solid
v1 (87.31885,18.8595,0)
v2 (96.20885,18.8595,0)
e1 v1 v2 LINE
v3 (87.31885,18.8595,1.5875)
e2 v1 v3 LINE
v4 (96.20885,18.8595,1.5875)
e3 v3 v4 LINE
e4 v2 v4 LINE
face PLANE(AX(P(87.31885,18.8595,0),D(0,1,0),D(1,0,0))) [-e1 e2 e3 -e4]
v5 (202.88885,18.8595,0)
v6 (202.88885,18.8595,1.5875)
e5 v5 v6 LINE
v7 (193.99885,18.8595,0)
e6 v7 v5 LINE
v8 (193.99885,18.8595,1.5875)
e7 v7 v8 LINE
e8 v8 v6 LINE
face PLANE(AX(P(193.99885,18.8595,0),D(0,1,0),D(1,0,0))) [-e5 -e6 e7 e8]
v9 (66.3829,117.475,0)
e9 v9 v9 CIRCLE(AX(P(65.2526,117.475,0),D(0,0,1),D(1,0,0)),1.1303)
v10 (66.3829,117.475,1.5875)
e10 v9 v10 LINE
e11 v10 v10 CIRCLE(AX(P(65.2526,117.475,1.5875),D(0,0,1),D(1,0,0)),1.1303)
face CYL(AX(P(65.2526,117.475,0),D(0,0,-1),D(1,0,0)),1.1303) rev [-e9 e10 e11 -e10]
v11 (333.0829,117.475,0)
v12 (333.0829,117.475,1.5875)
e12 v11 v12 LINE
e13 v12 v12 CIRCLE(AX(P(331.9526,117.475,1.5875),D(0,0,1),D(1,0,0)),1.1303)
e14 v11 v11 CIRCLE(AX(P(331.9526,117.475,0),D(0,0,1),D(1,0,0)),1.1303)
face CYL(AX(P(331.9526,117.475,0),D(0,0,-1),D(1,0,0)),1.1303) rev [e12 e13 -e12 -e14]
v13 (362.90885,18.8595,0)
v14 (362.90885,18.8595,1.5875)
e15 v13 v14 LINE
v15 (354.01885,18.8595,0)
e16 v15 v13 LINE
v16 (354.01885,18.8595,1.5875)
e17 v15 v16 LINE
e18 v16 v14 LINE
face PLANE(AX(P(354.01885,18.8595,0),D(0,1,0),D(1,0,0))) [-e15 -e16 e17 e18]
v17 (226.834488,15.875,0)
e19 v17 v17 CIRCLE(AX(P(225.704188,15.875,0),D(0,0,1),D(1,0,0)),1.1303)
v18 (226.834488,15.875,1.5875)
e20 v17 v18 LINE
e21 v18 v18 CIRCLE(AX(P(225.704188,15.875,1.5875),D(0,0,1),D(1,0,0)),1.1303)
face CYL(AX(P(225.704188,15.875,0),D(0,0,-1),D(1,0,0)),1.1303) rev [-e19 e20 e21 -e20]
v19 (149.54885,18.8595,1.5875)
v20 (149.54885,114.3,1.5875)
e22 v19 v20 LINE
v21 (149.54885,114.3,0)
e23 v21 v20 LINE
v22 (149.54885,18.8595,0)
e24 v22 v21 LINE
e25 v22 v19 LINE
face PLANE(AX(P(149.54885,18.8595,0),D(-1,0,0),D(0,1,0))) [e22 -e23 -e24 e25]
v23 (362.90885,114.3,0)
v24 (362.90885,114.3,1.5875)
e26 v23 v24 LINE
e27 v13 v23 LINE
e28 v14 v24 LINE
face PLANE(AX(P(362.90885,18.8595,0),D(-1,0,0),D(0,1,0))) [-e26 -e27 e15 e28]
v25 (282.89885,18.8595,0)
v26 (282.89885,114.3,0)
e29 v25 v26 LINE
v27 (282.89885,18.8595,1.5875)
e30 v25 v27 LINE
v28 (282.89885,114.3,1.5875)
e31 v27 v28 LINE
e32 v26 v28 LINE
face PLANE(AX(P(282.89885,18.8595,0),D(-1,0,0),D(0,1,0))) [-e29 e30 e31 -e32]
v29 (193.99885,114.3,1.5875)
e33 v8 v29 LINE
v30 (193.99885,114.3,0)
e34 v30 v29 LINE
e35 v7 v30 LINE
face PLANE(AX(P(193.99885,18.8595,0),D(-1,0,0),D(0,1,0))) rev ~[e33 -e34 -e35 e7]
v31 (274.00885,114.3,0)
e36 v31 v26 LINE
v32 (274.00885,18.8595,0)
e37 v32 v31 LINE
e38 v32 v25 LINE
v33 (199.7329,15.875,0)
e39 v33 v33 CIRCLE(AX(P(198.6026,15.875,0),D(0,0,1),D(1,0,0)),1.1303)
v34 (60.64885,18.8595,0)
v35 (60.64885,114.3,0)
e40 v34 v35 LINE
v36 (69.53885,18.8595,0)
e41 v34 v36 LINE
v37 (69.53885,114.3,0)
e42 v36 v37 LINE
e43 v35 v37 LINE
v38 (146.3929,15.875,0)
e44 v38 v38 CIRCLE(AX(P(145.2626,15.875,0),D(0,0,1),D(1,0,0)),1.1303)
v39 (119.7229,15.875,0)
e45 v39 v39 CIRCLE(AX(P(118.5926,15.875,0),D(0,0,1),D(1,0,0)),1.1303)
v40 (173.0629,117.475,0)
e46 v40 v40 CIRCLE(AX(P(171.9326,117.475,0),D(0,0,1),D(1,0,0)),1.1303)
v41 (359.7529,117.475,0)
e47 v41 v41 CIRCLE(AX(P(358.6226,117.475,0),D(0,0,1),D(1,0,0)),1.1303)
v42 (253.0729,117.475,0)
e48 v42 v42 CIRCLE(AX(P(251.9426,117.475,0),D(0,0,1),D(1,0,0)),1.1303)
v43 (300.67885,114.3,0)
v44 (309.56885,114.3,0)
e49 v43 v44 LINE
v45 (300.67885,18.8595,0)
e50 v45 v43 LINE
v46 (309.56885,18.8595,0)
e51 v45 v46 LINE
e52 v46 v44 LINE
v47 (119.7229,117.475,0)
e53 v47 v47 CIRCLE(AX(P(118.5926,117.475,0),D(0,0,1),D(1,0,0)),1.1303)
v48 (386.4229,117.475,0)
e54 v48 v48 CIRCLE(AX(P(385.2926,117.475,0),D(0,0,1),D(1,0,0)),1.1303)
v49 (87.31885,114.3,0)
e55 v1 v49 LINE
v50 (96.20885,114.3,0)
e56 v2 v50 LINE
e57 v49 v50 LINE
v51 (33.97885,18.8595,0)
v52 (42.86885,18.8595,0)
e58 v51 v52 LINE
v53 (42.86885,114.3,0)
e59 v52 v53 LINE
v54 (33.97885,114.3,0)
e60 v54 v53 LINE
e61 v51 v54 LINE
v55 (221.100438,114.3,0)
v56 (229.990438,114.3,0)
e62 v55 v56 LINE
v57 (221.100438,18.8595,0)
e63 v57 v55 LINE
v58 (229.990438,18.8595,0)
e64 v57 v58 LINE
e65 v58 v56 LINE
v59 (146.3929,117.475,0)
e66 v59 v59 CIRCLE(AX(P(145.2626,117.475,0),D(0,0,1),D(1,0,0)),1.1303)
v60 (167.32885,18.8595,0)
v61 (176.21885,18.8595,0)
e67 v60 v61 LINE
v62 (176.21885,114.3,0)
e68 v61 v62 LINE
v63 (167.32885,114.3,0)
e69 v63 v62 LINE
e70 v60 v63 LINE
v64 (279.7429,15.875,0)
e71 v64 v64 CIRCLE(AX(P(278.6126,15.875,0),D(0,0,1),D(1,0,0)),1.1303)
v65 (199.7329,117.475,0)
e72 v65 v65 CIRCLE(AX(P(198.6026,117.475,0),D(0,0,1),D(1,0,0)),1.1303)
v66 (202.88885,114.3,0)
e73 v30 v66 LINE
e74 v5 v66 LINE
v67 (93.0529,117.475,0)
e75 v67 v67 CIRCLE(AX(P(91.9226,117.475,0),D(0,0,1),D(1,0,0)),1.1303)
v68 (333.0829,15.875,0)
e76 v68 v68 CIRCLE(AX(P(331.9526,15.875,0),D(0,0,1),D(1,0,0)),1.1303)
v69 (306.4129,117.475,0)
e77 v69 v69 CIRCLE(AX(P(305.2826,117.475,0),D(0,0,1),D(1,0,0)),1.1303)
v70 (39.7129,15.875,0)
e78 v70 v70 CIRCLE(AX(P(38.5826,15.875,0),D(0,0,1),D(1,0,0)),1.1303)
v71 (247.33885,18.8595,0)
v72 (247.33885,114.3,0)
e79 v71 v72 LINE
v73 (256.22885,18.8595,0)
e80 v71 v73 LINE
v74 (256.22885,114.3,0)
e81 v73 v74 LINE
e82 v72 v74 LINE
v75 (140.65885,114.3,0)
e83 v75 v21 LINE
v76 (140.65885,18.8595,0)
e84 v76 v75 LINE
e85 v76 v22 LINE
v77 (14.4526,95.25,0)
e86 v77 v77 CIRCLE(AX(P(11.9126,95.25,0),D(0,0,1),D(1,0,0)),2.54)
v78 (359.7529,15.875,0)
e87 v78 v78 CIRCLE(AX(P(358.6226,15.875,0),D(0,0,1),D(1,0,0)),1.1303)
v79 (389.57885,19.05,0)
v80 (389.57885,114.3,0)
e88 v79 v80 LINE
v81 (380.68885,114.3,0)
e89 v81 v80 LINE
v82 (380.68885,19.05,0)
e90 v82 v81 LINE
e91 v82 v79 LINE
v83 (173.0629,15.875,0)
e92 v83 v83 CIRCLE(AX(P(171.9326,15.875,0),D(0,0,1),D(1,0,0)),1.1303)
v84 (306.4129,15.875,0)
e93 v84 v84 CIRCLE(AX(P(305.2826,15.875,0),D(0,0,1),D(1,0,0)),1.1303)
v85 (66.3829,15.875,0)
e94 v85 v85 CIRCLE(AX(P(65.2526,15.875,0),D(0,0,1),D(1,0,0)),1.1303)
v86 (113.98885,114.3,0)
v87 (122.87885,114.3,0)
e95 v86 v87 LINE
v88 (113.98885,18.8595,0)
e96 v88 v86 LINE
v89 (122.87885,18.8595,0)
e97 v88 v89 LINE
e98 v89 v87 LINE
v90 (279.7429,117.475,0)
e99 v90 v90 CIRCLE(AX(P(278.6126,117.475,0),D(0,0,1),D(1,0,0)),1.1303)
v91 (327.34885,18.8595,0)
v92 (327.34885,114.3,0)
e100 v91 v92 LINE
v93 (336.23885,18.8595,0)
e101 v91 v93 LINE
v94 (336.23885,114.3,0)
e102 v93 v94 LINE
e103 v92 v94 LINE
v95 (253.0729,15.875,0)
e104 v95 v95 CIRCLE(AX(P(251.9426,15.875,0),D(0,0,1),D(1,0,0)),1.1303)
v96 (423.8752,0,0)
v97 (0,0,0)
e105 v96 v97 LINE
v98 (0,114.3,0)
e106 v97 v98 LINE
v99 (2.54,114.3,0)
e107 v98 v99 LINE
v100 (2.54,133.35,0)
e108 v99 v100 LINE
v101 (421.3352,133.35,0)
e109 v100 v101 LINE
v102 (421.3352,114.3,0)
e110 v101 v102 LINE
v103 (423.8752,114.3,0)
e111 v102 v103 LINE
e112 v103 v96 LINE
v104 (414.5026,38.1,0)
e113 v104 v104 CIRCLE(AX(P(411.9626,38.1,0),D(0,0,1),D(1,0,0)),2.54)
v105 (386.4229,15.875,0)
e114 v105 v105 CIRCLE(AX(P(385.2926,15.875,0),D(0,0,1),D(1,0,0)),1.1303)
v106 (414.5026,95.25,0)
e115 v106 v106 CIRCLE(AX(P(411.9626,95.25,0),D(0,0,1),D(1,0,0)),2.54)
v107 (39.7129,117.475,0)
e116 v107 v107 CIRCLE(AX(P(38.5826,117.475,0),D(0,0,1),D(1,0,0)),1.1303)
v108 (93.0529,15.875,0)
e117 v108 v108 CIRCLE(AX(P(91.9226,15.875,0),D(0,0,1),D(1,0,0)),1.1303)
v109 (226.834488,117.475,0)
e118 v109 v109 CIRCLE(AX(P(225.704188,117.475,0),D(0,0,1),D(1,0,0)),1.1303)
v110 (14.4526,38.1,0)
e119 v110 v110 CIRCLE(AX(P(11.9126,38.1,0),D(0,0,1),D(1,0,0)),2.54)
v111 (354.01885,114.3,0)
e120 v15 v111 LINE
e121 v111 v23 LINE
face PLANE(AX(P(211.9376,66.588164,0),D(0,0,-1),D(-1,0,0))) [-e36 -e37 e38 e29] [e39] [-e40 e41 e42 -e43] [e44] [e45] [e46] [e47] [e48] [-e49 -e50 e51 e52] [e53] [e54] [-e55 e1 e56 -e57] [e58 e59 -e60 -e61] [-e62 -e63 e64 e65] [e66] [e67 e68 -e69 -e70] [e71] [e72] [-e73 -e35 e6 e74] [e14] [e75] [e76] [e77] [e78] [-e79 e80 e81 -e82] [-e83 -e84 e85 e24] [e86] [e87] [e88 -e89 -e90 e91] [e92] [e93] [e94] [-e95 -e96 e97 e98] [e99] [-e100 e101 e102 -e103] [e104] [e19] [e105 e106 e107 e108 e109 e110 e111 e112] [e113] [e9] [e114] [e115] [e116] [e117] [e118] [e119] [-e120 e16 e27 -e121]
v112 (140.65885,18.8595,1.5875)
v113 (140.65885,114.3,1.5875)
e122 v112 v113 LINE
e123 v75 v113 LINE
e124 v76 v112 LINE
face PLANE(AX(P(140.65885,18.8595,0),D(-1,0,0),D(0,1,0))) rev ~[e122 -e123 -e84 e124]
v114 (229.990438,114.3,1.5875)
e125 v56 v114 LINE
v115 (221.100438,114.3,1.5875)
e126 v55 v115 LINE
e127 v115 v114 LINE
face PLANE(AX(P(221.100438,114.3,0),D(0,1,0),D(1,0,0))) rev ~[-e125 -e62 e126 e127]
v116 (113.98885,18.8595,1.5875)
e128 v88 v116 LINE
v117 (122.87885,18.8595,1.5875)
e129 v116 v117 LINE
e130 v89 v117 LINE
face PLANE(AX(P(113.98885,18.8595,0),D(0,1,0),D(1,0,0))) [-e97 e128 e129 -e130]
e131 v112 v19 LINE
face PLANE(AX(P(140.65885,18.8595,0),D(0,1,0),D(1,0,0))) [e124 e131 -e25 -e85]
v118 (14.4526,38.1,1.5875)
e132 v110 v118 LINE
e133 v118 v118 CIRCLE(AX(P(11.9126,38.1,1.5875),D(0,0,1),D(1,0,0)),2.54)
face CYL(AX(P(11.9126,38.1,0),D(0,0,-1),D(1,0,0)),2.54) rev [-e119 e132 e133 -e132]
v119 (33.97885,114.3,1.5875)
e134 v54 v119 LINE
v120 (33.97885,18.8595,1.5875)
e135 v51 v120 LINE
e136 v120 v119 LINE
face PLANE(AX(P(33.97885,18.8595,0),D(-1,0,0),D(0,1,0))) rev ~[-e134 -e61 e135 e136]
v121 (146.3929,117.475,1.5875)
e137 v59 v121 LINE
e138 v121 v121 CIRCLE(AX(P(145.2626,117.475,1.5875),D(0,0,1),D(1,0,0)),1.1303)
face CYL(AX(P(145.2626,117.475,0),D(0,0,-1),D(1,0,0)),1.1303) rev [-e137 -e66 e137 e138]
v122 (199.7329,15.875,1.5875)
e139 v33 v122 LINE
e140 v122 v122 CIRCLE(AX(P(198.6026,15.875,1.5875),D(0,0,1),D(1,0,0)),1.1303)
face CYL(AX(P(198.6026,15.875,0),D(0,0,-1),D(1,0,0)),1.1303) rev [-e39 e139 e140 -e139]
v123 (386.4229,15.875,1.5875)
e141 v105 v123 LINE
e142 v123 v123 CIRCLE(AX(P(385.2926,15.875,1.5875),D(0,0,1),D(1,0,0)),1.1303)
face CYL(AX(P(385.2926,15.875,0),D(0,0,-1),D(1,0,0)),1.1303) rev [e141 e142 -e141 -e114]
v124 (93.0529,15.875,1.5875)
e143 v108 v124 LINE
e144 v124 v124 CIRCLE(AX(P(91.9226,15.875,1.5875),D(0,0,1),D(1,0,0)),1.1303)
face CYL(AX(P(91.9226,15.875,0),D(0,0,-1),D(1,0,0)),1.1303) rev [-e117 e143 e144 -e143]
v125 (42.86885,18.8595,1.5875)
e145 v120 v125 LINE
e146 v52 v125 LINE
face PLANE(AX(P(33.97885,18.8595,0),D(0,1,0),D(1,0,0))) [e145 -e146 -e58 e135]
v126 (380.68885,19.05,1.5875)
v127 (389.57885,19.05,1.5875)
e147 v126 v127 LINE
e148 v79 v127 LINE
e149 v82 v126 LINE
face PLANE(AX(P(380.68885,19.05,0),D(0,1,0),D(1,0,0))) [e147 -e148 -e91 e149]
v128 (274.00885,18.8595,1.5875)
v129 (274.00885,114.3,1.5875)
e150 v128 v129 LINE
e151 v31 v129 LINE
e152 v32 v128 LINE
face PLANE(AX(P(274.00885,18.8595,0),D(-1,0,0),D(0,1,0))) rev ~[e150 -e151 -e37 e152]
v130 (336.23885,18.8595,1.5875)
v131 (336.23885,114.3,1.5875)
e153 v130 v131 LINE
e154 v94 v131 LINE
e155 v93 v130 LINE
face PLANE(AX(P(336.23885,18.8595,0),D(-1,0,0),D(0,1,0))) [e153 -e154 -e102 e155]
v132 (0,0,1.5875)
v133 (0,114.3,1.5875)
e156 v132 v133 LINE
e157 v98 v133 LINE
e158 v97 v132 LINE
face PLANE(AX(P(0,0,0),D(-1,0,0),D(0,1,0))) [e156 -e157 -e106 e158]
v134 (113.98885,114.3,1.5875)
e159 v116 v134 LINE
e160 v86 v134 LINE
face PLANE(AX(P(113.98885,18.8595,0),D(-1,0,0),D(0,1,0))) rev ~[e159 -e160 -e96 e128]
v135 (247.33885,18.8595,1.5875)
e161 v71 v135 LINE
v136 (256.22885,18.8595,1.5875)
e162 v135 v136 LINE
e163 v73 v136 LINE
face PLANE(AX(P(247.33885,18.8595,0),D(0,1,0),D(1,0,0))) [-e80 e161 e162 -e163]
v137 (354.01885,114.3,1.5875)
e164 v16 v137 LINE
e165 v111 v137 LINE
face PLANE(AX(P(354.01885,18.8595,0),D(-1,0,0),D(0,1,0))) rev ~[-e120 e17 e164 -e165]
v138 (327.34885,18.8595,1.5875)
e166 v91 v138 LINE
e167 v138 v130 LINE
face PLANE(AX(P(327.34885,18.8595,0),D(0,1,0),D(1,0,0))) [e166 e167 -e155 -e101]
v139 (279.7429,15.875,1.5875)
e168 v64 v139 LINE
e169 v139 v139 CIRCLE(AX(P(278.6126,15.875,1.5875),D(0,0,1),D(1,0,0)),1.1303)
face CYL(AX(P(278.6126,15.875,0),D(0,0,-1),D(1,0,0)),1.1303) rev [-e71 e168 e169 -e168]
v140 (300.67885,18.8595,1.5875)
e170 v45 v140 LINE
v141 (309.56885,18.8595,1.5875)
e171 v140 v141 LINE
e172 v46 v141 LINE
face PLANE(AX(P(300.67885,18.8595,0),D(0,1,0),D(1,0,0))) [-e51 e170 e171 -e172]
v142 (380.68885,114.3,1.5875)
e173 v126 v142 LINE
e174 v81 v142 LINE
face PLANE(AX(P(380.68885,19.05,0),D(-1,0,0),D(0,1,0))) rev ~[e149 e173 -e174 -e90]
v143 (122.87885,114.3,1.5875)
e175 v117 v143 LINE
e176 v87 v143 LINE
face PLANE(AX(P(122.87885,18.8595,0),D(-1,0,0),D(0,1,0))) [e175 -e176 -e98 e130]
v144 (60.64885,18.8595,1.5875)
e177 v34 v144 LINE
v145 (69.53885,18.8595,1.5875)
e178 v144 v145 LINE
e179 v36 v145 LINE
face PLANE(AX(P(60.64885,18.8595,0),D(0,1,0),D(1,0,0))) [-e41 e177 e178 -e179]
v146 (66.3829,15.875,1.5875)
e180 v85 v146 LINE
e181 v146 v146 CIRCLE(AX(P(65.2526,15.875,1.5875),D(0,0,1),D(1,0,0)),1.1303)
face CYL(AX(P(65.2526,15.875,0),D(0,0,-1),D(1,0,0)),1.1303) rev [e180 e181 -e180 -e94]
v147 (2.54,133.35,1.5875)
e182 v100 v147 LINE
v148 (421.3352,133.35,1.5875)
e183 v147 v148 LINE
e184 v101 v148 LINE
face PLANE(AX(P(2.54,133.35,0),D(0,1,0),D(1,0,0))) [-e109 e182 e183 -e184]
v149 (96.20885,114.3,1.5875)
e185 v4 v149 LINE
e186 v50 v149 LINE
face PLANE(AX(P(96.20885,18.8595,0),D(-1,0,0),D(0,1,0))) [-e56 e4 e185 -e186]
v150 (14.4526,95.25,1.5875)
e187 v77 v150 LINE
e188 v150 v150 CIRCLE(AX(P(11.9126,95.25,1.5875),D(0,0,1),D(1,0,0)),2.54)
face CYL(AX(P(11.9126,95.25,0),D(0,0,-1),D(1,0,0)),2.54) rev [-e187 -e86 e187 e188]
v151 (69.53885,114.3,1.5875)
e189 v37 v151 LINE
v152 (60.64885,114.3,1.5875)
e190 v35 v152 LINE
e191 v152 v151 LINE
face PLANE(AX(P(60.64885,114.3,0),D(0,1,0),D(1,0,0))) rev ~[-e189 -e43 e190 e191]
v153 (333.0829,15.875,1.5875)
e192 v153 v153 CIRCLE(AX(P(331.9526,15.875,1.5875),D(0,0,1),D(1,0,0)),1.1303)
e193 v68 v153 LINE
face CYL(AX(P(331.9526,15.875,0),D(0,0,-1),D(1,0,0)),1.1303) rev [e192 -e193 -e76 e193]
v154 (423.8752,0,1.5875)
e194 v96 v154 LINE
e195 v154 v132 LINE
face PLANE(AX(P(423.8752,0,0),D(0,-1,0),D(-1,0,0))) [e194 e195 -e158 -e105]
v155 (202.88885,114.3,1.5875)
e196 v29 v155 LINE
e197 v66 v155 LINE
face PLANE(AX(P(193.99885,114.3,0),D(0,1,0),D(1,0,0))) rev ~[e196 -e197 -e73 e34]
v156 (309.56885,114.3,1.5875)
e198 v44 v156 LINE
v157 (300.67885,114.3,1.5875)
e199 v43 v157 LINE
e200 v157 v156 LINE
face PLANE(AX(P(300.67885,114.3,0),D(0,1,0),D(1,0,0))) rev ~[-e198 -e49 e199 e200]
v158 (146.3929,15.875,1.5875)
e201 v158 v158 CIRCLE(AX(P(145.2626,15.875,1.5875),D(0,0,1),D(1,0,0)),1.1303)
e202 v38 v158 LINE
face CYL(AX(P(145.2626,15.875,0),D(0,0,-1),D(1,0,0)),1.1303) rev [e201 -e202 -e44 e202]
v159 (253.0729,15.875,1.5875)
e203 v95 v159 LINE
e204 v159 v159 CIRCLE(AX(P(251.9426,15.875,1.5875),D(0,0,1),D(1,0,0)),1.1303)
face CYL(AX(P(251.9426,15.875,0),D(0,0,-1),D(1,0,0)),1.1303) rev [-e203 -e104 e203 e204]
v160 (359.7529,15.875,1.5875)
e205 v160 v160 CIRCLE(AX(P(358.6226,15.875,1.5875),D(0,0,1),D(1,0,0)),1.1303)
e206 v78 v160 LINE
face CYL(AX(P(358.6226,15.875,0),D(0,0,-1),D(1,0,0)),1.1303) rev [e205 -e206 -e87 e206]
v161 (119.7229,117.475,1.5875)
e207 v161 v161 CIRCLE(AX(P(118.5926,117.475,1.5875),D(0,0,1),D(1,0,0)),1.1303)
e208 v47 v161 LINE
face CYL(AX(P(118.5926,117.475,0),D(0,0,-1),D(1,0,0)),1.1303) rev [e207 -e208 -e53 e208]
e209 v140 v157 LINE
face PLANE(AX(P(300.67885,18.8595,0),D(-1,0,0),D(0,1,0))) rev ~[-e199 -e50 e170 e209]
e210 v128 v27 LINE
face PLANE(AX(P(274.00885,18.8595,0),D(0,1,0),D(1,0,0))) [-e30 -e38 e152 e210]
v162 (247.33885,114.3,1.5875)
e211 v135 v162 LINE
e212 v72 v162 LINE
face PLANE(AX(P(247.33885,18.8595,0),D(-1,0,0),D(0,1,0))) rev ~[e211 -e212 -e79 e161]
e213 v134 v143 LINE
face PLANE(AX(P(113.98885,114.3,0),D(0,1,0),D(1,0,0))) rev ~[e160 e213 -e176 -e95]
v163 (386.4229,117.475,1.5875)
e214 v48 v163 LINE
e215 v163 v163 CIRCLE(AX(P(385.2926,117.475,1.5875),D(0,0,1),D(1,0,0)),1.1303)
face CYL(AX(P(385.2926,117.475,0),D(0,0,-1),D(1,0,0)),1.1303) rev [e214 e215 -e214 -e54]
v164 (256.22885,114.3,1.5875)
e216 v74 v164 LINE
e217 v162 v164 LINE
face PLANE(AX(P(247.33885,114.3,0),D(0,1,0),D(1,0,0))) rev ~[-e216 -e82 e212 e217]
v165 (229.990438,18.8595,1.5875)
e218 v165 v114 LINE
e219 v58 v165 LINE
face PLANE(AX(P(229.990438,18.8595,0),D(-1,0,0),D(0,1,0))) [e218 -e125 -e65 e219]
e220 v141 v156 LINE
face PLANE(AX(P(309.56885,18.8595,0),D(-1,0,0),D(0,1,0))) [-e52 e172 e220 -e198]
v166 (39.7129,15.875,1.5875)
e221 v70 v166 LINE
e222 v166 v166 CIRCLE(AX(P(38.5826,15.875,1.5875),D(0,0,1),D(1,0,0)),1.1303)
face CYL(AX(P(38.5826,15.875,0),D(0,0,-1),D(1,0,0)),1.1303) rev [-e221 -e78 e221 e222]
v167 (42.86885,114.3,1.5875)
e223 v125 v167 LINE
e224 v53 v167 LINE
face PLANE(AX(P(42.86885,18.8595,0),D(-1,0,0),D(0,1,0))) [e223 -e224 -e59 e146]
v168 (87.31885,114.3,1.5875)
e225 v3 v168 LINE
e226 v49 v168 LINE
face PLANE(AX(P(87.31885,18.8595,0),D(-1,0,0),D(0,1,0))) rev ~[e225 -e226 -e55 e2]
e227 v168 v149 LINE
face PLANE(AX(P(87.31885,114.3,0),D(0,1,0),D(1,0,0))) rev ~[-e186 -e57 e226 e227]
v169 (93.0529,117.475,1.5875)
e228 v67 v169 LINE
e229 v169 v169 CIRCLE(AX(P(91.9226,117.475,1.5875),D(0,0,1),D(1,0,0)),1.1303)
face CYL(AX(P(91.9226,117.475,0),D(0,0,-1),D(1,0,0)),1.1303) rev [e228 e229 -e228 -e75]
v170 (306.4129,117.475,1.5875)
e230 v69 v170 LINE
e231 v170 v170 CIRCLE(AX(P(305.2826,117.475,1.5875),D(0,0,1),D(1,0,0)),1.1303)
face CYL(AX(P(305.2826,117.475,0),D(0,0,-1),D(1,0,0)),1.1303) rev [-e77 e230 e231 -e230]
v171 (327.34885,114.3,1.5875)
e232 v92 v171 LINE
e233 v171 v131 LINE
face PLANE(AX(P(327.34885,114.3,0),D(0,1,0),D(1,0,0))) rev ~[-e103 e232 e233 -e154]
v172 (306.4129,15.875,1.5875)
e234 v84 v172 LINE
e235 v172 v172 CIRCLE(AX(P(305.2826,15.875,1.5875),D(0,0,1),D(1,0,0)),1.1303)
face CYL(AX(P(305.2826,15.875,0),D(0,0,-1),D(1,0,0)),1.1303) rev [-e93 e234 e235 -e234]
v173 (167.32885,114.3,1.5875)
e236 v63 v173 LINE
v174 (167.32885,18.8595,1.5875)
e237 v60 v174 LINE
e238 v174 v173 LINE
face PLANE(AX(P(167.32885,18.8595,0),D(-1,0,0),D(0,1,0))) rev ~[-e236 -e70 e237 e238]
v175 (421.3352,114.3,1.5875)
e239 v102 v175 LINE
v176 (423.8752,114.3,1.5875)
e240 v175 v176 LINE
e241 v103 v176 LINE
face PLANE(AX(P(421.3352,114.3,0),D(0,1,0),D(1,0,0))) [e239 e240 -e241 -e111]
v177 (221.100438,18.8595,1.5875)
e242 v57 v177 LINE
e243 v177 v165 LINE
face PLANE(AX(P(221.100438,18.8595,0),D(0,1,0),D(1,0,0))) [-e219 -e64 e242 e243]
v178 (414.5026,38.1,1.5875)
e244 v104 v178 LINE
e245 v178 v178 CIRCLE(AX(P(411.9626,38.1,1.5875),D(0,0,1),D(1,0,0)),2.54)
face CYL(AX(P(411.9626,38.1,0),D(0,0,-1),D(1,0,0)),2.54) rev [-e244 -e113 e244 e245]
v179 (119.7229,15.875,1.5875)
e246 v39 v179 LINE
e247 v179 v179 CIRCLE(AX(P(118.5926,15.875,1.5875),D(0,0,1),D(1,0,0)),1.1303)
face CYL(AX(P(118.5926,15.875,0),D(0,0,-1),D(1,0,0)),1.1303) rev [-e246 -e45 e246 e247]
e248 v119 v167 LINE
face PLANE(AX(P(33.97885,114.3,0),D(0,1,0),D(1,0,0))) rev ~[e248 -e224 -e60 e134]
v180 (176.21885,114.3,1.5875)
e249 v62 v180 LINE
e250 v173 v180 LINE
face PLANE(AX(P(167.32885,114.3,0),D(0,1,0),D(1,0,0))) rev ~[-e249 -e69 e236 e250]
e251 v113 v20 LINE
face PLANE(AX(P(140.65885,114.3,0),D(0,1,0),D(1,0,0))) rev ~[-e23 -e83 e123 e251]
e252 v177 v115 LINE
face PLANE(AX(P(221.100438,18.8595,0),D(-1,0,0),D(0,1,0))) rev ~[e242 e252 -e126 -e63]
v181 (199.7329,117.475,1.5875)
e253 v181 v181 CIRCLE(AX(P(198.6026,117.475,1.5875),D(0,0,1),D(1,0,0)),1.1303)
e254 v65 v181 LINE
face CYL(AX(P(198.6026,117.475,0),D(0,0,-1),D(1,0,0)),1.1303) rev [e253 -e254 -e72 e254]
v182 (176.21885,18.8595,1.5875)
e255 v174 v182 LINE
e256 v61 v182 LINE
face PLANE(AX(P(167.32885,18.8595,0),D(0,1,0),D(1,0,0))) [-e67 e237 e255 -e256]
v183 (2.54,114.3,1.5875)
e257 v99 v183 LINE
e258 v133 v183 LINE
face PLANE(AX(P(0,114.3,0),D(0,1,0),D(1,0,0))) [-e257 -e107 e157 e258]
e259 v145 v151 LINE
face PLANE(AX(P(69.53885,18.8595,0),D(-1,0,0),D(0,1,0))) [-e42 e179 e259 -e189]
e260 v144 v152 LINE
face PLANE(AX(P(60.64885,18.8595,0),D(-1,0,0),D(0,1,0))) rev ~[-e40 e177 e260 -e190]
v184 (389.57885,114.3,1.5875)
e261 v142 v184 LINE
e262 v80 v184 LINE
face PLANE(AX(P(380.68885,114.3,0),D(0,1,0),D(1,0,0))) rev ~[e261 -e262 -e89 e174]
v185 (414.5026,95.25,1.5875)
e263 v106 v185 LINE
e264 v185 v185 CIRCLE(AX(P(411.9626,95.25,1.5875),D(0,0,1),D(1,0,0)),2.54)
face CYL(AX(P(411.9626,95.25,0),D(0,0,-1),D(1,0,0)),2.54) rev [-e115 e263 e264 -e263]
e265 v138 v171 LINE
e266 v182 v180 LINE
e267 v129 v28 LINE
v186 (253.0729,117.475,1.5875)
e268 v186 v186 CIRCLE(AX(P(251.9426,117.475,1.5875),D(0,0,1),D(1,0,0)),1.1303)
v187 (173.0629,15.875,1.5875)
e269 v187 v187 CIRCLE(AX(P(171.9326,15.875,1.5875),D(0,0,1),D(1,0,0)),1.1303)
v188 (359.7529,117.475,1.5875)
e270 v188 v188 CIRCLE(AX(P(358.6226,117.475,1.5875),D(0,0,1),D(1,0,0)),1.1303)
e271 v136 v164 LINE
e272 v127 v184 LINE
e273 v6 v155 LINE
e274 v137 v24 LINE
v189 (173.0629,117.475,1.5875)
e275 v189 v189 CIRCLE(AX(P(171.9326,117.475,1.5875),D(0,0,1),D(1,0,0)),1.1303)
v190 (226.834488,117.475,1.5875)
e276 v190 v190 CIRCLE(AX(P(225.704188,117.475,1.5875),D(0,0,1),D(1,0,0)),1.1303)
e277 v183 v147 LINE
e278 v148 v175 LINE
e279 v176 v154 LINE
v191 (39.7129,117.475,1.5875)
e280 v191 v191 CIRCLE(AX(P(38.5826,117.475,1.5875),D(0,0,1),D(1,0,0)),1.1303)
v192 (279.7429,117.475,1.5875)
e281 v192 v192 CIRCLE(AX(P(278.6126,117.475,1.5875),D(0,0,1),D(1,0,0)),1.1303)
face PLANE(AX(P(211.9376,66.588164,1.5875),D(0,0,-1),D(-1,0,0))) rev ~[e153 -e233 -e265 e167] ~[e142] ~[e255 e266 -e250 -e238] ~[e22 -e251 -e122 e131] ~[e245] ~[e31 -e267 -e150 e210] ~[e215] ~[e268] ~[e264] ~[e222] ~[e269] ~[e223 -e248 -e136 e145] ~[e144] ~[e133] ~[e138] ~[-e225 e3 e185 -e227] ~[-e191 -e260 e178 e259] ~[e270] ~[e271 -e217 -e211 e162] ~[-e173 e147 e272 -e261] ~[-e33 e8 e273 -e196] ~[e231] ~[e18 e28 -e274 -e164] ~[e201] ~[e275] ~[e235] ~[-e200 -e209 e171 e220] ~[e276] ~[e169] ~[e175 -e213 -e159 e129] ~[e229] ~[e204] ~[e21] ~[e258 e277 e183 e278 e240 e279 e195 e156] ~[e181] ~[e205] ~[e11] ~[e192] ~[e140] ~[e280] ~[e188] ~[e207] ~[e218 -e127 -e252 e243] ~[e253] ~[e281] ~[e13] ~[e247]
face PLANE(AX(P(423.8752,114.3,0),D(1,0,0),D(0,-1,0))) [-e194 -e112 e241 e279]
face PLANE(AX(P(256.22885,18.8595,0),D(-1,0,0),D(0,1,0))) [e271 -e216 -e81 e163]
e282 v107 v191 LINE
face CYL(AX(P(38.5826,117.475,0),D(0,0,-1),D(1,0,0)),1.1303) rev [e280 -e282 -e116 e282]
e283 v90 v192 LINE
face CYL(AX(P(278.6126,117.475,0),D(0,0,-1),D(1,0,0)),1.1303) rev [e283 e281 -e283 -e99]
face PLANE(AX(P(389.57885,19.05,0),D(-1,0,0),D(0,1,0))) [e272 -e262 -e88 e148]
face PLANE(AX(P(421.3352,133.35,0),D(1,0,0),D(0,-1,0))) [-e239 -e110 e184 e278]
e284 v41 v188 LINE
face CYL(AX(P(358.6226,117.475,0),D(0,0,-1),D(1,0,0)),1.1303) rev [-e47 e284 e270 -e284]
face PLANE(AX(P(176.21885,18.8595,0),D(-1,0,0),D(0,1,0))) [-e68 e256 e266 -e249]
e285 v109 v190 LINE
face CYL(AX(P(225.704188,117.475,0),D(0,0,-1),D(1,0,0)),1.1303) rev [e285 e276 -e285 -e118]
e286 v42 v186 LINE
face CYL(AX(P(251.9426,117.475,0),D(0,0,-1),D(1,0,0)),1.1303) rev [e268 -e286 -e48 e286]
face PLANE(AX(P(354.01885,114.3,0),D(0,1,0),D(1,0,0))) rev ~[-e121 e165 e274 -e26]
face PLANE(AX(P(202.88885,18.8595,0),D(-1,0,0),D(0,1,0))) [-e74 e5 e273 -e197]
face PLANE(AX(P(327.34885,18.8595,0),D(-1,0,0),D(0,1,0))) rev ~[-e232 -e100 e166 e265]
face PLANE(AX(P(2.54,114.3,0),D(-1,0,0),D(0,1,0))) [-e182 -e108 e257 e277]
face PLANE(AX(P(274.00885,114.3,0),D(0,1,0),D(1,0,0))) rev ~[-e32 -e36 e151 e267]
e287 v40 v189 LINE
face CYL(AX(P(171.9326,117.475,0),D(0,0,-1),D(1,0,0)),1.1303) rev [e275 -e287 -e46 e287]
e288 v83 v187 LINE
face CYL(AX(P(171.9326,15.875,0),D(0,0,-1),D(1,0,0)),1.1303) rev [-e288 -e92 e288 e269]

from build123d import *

# Parameters (mm, degrees)
SKETCH1_R           = 2.54
SKETCH1_R_2         = 1.1303
SKETCH1_W           = 8.89
SKETCH1_H           = 95.4405
SKETCH1_H_2         = 95.25
BOSS_EXTRUDE1_DEPTH = 1.5875


with BuildPart() as part:
    # Sketch1 → Boss-Extrude1 (new body)
    with BuildSketch(Plane.XY):
        Polygon((0, 0), (0, 114.3), (2.54, 114.3), (2.54, 133.35), (421.3352, 133.35), (421.3352, 114.3), (423.8752, 114.3), (423.8752, 0), align=None)
        with Locations((11.9126, 38.1)):
            Circle(SKETCH1_R, mode=Mode.SUBTRACT)
        with Locations((11.9126, 95.25)):
            Circle(SKETCH1_R, mode=Mode.SUBTRACT)
        with Locations((411.9626, 95.25)):
            Circle(SKETCH1_R, mode=Mode.SUBTRACT)
        with Locations((411.9626, 38.1)):
            Circle(SKETCH1_R, mode=Mode.SUBTRACT)
        with Locations((38.5826, 117.475)):
            Circle(SKETCH1_R_2, mode=Mode.SUBTRACT)
        with Locations((38.5826, 15.875)):
            Circle(SKETCH1_R_2, mode=Mode.SUBTRACT)
        with Locations((65.2526, 117.475)):
            Circle(SKETCH1_R_2, mode=Mode.SUBTRACT)
        with Locations((65.2526, 15.875)):
            Circle(SKETCH1_R_2, mode=Mode.SUBTRACT)
        with Locations((91.9226, 117.475)):
            Circle(SKETCH1_R_2, mode=Mode.SUBTRACT)
        with Locations((91.9226, 15.875)):
            Circle(SKETCH1_R_2, mode=Mode.SUBTRACT)
        with Locations((118.5926, 117.475)):
            Circle(SKETCH1_R_2, mode=Mode.SUBTRACT)
        with Locations((118.5926, 15.875)):
            Circle(SKETCH1_R_2, mode=Mode.SUBTRACT)
        with Locations((145.2626, 117.475)):
            Circle(SKETCH1_R_2, mode=Mode.SUBTRACT)
        with Locations((145.2626, 15.875)):
            Circle(SKETCH1_R_2, mode=Mode.SUBTRACT)
        with Locations((171.9326, 117.475)):
            Circle(SKETCH1_R_2, mode=Mode.SUBTRACT)
        with Locations((171.9326, 15.875)):
            Circle(SKETCH1_R_2, mode=Mode.SUBTRACT)
        with Locations((198.6026, 117.475)):
            Circle(SKETCH1_R_2, mode=Mode.SUBTRACT)
        with Locations((198.6026, 15.875)):
            Circle(SKETCH1_R_2, mode=Mode.SUBTRACT)
        with Locations((225.704188438, 117.475)):
            Circle(SKETCH1_R_2, mode=Mode.SUBTRACT)
        with Locations((225.704188438, 15.875)):
            Circle(SKETCH1_R_2, mode=Mode.SUBTRACT)
        with Locations((251.9426, 117.475)):
            Circle(SKETCH1_R_2, mode=Mode.SUBTRACT)
        with Locations((251.9426, 15.875)):
            Circle(SKETCH1_R_2, mode=Mode.SUBTRACT)
        with Locations((278.6126, 117.475)):
            Circle(SKETCH1_R_2, mode=Mode.SUBTRACT)
        with Locations((278.6126, 15.875)):
            Circle(SKETCH1_R_2, mode=Mode.SUBTRACT)
        with Locations((305.2826, 117.475)):
            Circle(SKETCH1_R_2, mode=Mode.SUBTRACT)
        with Locations((305.2826, 15.875)):
            Circle(SKETCH1_R_2, mode=Mode.SUBTRACT)
        with Locations((331.9526, 117.475)):
            Circle(SKETCH1_R_2, mode=Mode.SUBTRACT)
        with Locations((331.9526, 15.875)):
            Circle(SKETCH1_R_2, mode=Mode.SUBTRACT)
        with Locations((358.6226, 117.475)):
            Circle(SKETCH1_R_2, mode=Mode.SUBTRACT)
        with Locations((358.6226, 15.875)):
            Circle(SKETCH1_R_2, mode=Mode.SUBTRACT)
        with Locations((385.2926, 117.475)):
            Circle(SKETCH1_R_2, mode=Mode.SUBTRACT)
        with Locations((385.2926, 15.875)):
            Circle(SKETCH1_R_2, mode=Mode.SUBTRACT)
        with Locations((38.42385, 66.57975)):
            Rectangle(SKETCH1_W, SKETCH1_H, mode=Mode.SUBTRACT)
        with Locations((65.09385, 66.57975)):
            Rectangle(SKETCH1_W, SKETCH1_H, mode=Mode.SUBTRACT)
        with Locations((91.76385, 66.57975)):
            Rectangle(SKETCH1_W, SKETCH1_H, mode=Mode.SUBTRACT)
        with Locations((118.43385, 66.57975)):
            Rectangle(SKETCH1_W, SKETCH1_H, mode=Mode.SUBTRACT)
        with Locations((145.10385, 66.57975)):
            Rectangle(SKETCH1_W, SKETCH1_H, mode=Mode.SUBTRACT)
        with Locations((251.78385, 66.57975)):
            Rectangle(SKETCH1_W, SKETCH1_H, mode=Mode.SUBTRACT)
        with Locations((171.77385, 66.57975)):
            Rectangle(SKETCH1_W, SKETCH1_H, mode=Mode.SUBTRACT)
        with Locations((198.44385, 66.57975)):
            Rectangle(SKETCH1_W, SKETCH1_H, mode=Mode.SUBTRACT)
        with Locations((225.545438438, 66.57975)):
            Rectangle(SKETCH1_W, SKETCH1_H, mode=Mode.SUBTRACT)
        with Locations((278.45385, 66.57975)):
            Rectangle(SKETCH1_W, SKETCH1_H, mode=Mode.SUBTRACT)
        with Locations((305.12385, 66.57975)):
            Rectangle(SKETCH1_W, SKETCH1_H, mode=Mode.SUBTRACT)
        with Locations((331.79385, 66.57975)):
            Rectangle(SKETCH1_W, SKETCH1_H, mode=Mode.SUBTRACT)
        with Locations((358.46385, 66.57975)):
            Rectangle(SKETCH1_W, SKETCH1_H, mode=Mode.SUBTRACT)
        with Locations((385.13385, 66.675)):
            Rectangle(SKETCH1_W, SKETCH1_H_2, mode=Mode.SUBTRACT)
    extrude(amount=BOSS_EXTRUDE1_DEPTH)


solid = part.part
